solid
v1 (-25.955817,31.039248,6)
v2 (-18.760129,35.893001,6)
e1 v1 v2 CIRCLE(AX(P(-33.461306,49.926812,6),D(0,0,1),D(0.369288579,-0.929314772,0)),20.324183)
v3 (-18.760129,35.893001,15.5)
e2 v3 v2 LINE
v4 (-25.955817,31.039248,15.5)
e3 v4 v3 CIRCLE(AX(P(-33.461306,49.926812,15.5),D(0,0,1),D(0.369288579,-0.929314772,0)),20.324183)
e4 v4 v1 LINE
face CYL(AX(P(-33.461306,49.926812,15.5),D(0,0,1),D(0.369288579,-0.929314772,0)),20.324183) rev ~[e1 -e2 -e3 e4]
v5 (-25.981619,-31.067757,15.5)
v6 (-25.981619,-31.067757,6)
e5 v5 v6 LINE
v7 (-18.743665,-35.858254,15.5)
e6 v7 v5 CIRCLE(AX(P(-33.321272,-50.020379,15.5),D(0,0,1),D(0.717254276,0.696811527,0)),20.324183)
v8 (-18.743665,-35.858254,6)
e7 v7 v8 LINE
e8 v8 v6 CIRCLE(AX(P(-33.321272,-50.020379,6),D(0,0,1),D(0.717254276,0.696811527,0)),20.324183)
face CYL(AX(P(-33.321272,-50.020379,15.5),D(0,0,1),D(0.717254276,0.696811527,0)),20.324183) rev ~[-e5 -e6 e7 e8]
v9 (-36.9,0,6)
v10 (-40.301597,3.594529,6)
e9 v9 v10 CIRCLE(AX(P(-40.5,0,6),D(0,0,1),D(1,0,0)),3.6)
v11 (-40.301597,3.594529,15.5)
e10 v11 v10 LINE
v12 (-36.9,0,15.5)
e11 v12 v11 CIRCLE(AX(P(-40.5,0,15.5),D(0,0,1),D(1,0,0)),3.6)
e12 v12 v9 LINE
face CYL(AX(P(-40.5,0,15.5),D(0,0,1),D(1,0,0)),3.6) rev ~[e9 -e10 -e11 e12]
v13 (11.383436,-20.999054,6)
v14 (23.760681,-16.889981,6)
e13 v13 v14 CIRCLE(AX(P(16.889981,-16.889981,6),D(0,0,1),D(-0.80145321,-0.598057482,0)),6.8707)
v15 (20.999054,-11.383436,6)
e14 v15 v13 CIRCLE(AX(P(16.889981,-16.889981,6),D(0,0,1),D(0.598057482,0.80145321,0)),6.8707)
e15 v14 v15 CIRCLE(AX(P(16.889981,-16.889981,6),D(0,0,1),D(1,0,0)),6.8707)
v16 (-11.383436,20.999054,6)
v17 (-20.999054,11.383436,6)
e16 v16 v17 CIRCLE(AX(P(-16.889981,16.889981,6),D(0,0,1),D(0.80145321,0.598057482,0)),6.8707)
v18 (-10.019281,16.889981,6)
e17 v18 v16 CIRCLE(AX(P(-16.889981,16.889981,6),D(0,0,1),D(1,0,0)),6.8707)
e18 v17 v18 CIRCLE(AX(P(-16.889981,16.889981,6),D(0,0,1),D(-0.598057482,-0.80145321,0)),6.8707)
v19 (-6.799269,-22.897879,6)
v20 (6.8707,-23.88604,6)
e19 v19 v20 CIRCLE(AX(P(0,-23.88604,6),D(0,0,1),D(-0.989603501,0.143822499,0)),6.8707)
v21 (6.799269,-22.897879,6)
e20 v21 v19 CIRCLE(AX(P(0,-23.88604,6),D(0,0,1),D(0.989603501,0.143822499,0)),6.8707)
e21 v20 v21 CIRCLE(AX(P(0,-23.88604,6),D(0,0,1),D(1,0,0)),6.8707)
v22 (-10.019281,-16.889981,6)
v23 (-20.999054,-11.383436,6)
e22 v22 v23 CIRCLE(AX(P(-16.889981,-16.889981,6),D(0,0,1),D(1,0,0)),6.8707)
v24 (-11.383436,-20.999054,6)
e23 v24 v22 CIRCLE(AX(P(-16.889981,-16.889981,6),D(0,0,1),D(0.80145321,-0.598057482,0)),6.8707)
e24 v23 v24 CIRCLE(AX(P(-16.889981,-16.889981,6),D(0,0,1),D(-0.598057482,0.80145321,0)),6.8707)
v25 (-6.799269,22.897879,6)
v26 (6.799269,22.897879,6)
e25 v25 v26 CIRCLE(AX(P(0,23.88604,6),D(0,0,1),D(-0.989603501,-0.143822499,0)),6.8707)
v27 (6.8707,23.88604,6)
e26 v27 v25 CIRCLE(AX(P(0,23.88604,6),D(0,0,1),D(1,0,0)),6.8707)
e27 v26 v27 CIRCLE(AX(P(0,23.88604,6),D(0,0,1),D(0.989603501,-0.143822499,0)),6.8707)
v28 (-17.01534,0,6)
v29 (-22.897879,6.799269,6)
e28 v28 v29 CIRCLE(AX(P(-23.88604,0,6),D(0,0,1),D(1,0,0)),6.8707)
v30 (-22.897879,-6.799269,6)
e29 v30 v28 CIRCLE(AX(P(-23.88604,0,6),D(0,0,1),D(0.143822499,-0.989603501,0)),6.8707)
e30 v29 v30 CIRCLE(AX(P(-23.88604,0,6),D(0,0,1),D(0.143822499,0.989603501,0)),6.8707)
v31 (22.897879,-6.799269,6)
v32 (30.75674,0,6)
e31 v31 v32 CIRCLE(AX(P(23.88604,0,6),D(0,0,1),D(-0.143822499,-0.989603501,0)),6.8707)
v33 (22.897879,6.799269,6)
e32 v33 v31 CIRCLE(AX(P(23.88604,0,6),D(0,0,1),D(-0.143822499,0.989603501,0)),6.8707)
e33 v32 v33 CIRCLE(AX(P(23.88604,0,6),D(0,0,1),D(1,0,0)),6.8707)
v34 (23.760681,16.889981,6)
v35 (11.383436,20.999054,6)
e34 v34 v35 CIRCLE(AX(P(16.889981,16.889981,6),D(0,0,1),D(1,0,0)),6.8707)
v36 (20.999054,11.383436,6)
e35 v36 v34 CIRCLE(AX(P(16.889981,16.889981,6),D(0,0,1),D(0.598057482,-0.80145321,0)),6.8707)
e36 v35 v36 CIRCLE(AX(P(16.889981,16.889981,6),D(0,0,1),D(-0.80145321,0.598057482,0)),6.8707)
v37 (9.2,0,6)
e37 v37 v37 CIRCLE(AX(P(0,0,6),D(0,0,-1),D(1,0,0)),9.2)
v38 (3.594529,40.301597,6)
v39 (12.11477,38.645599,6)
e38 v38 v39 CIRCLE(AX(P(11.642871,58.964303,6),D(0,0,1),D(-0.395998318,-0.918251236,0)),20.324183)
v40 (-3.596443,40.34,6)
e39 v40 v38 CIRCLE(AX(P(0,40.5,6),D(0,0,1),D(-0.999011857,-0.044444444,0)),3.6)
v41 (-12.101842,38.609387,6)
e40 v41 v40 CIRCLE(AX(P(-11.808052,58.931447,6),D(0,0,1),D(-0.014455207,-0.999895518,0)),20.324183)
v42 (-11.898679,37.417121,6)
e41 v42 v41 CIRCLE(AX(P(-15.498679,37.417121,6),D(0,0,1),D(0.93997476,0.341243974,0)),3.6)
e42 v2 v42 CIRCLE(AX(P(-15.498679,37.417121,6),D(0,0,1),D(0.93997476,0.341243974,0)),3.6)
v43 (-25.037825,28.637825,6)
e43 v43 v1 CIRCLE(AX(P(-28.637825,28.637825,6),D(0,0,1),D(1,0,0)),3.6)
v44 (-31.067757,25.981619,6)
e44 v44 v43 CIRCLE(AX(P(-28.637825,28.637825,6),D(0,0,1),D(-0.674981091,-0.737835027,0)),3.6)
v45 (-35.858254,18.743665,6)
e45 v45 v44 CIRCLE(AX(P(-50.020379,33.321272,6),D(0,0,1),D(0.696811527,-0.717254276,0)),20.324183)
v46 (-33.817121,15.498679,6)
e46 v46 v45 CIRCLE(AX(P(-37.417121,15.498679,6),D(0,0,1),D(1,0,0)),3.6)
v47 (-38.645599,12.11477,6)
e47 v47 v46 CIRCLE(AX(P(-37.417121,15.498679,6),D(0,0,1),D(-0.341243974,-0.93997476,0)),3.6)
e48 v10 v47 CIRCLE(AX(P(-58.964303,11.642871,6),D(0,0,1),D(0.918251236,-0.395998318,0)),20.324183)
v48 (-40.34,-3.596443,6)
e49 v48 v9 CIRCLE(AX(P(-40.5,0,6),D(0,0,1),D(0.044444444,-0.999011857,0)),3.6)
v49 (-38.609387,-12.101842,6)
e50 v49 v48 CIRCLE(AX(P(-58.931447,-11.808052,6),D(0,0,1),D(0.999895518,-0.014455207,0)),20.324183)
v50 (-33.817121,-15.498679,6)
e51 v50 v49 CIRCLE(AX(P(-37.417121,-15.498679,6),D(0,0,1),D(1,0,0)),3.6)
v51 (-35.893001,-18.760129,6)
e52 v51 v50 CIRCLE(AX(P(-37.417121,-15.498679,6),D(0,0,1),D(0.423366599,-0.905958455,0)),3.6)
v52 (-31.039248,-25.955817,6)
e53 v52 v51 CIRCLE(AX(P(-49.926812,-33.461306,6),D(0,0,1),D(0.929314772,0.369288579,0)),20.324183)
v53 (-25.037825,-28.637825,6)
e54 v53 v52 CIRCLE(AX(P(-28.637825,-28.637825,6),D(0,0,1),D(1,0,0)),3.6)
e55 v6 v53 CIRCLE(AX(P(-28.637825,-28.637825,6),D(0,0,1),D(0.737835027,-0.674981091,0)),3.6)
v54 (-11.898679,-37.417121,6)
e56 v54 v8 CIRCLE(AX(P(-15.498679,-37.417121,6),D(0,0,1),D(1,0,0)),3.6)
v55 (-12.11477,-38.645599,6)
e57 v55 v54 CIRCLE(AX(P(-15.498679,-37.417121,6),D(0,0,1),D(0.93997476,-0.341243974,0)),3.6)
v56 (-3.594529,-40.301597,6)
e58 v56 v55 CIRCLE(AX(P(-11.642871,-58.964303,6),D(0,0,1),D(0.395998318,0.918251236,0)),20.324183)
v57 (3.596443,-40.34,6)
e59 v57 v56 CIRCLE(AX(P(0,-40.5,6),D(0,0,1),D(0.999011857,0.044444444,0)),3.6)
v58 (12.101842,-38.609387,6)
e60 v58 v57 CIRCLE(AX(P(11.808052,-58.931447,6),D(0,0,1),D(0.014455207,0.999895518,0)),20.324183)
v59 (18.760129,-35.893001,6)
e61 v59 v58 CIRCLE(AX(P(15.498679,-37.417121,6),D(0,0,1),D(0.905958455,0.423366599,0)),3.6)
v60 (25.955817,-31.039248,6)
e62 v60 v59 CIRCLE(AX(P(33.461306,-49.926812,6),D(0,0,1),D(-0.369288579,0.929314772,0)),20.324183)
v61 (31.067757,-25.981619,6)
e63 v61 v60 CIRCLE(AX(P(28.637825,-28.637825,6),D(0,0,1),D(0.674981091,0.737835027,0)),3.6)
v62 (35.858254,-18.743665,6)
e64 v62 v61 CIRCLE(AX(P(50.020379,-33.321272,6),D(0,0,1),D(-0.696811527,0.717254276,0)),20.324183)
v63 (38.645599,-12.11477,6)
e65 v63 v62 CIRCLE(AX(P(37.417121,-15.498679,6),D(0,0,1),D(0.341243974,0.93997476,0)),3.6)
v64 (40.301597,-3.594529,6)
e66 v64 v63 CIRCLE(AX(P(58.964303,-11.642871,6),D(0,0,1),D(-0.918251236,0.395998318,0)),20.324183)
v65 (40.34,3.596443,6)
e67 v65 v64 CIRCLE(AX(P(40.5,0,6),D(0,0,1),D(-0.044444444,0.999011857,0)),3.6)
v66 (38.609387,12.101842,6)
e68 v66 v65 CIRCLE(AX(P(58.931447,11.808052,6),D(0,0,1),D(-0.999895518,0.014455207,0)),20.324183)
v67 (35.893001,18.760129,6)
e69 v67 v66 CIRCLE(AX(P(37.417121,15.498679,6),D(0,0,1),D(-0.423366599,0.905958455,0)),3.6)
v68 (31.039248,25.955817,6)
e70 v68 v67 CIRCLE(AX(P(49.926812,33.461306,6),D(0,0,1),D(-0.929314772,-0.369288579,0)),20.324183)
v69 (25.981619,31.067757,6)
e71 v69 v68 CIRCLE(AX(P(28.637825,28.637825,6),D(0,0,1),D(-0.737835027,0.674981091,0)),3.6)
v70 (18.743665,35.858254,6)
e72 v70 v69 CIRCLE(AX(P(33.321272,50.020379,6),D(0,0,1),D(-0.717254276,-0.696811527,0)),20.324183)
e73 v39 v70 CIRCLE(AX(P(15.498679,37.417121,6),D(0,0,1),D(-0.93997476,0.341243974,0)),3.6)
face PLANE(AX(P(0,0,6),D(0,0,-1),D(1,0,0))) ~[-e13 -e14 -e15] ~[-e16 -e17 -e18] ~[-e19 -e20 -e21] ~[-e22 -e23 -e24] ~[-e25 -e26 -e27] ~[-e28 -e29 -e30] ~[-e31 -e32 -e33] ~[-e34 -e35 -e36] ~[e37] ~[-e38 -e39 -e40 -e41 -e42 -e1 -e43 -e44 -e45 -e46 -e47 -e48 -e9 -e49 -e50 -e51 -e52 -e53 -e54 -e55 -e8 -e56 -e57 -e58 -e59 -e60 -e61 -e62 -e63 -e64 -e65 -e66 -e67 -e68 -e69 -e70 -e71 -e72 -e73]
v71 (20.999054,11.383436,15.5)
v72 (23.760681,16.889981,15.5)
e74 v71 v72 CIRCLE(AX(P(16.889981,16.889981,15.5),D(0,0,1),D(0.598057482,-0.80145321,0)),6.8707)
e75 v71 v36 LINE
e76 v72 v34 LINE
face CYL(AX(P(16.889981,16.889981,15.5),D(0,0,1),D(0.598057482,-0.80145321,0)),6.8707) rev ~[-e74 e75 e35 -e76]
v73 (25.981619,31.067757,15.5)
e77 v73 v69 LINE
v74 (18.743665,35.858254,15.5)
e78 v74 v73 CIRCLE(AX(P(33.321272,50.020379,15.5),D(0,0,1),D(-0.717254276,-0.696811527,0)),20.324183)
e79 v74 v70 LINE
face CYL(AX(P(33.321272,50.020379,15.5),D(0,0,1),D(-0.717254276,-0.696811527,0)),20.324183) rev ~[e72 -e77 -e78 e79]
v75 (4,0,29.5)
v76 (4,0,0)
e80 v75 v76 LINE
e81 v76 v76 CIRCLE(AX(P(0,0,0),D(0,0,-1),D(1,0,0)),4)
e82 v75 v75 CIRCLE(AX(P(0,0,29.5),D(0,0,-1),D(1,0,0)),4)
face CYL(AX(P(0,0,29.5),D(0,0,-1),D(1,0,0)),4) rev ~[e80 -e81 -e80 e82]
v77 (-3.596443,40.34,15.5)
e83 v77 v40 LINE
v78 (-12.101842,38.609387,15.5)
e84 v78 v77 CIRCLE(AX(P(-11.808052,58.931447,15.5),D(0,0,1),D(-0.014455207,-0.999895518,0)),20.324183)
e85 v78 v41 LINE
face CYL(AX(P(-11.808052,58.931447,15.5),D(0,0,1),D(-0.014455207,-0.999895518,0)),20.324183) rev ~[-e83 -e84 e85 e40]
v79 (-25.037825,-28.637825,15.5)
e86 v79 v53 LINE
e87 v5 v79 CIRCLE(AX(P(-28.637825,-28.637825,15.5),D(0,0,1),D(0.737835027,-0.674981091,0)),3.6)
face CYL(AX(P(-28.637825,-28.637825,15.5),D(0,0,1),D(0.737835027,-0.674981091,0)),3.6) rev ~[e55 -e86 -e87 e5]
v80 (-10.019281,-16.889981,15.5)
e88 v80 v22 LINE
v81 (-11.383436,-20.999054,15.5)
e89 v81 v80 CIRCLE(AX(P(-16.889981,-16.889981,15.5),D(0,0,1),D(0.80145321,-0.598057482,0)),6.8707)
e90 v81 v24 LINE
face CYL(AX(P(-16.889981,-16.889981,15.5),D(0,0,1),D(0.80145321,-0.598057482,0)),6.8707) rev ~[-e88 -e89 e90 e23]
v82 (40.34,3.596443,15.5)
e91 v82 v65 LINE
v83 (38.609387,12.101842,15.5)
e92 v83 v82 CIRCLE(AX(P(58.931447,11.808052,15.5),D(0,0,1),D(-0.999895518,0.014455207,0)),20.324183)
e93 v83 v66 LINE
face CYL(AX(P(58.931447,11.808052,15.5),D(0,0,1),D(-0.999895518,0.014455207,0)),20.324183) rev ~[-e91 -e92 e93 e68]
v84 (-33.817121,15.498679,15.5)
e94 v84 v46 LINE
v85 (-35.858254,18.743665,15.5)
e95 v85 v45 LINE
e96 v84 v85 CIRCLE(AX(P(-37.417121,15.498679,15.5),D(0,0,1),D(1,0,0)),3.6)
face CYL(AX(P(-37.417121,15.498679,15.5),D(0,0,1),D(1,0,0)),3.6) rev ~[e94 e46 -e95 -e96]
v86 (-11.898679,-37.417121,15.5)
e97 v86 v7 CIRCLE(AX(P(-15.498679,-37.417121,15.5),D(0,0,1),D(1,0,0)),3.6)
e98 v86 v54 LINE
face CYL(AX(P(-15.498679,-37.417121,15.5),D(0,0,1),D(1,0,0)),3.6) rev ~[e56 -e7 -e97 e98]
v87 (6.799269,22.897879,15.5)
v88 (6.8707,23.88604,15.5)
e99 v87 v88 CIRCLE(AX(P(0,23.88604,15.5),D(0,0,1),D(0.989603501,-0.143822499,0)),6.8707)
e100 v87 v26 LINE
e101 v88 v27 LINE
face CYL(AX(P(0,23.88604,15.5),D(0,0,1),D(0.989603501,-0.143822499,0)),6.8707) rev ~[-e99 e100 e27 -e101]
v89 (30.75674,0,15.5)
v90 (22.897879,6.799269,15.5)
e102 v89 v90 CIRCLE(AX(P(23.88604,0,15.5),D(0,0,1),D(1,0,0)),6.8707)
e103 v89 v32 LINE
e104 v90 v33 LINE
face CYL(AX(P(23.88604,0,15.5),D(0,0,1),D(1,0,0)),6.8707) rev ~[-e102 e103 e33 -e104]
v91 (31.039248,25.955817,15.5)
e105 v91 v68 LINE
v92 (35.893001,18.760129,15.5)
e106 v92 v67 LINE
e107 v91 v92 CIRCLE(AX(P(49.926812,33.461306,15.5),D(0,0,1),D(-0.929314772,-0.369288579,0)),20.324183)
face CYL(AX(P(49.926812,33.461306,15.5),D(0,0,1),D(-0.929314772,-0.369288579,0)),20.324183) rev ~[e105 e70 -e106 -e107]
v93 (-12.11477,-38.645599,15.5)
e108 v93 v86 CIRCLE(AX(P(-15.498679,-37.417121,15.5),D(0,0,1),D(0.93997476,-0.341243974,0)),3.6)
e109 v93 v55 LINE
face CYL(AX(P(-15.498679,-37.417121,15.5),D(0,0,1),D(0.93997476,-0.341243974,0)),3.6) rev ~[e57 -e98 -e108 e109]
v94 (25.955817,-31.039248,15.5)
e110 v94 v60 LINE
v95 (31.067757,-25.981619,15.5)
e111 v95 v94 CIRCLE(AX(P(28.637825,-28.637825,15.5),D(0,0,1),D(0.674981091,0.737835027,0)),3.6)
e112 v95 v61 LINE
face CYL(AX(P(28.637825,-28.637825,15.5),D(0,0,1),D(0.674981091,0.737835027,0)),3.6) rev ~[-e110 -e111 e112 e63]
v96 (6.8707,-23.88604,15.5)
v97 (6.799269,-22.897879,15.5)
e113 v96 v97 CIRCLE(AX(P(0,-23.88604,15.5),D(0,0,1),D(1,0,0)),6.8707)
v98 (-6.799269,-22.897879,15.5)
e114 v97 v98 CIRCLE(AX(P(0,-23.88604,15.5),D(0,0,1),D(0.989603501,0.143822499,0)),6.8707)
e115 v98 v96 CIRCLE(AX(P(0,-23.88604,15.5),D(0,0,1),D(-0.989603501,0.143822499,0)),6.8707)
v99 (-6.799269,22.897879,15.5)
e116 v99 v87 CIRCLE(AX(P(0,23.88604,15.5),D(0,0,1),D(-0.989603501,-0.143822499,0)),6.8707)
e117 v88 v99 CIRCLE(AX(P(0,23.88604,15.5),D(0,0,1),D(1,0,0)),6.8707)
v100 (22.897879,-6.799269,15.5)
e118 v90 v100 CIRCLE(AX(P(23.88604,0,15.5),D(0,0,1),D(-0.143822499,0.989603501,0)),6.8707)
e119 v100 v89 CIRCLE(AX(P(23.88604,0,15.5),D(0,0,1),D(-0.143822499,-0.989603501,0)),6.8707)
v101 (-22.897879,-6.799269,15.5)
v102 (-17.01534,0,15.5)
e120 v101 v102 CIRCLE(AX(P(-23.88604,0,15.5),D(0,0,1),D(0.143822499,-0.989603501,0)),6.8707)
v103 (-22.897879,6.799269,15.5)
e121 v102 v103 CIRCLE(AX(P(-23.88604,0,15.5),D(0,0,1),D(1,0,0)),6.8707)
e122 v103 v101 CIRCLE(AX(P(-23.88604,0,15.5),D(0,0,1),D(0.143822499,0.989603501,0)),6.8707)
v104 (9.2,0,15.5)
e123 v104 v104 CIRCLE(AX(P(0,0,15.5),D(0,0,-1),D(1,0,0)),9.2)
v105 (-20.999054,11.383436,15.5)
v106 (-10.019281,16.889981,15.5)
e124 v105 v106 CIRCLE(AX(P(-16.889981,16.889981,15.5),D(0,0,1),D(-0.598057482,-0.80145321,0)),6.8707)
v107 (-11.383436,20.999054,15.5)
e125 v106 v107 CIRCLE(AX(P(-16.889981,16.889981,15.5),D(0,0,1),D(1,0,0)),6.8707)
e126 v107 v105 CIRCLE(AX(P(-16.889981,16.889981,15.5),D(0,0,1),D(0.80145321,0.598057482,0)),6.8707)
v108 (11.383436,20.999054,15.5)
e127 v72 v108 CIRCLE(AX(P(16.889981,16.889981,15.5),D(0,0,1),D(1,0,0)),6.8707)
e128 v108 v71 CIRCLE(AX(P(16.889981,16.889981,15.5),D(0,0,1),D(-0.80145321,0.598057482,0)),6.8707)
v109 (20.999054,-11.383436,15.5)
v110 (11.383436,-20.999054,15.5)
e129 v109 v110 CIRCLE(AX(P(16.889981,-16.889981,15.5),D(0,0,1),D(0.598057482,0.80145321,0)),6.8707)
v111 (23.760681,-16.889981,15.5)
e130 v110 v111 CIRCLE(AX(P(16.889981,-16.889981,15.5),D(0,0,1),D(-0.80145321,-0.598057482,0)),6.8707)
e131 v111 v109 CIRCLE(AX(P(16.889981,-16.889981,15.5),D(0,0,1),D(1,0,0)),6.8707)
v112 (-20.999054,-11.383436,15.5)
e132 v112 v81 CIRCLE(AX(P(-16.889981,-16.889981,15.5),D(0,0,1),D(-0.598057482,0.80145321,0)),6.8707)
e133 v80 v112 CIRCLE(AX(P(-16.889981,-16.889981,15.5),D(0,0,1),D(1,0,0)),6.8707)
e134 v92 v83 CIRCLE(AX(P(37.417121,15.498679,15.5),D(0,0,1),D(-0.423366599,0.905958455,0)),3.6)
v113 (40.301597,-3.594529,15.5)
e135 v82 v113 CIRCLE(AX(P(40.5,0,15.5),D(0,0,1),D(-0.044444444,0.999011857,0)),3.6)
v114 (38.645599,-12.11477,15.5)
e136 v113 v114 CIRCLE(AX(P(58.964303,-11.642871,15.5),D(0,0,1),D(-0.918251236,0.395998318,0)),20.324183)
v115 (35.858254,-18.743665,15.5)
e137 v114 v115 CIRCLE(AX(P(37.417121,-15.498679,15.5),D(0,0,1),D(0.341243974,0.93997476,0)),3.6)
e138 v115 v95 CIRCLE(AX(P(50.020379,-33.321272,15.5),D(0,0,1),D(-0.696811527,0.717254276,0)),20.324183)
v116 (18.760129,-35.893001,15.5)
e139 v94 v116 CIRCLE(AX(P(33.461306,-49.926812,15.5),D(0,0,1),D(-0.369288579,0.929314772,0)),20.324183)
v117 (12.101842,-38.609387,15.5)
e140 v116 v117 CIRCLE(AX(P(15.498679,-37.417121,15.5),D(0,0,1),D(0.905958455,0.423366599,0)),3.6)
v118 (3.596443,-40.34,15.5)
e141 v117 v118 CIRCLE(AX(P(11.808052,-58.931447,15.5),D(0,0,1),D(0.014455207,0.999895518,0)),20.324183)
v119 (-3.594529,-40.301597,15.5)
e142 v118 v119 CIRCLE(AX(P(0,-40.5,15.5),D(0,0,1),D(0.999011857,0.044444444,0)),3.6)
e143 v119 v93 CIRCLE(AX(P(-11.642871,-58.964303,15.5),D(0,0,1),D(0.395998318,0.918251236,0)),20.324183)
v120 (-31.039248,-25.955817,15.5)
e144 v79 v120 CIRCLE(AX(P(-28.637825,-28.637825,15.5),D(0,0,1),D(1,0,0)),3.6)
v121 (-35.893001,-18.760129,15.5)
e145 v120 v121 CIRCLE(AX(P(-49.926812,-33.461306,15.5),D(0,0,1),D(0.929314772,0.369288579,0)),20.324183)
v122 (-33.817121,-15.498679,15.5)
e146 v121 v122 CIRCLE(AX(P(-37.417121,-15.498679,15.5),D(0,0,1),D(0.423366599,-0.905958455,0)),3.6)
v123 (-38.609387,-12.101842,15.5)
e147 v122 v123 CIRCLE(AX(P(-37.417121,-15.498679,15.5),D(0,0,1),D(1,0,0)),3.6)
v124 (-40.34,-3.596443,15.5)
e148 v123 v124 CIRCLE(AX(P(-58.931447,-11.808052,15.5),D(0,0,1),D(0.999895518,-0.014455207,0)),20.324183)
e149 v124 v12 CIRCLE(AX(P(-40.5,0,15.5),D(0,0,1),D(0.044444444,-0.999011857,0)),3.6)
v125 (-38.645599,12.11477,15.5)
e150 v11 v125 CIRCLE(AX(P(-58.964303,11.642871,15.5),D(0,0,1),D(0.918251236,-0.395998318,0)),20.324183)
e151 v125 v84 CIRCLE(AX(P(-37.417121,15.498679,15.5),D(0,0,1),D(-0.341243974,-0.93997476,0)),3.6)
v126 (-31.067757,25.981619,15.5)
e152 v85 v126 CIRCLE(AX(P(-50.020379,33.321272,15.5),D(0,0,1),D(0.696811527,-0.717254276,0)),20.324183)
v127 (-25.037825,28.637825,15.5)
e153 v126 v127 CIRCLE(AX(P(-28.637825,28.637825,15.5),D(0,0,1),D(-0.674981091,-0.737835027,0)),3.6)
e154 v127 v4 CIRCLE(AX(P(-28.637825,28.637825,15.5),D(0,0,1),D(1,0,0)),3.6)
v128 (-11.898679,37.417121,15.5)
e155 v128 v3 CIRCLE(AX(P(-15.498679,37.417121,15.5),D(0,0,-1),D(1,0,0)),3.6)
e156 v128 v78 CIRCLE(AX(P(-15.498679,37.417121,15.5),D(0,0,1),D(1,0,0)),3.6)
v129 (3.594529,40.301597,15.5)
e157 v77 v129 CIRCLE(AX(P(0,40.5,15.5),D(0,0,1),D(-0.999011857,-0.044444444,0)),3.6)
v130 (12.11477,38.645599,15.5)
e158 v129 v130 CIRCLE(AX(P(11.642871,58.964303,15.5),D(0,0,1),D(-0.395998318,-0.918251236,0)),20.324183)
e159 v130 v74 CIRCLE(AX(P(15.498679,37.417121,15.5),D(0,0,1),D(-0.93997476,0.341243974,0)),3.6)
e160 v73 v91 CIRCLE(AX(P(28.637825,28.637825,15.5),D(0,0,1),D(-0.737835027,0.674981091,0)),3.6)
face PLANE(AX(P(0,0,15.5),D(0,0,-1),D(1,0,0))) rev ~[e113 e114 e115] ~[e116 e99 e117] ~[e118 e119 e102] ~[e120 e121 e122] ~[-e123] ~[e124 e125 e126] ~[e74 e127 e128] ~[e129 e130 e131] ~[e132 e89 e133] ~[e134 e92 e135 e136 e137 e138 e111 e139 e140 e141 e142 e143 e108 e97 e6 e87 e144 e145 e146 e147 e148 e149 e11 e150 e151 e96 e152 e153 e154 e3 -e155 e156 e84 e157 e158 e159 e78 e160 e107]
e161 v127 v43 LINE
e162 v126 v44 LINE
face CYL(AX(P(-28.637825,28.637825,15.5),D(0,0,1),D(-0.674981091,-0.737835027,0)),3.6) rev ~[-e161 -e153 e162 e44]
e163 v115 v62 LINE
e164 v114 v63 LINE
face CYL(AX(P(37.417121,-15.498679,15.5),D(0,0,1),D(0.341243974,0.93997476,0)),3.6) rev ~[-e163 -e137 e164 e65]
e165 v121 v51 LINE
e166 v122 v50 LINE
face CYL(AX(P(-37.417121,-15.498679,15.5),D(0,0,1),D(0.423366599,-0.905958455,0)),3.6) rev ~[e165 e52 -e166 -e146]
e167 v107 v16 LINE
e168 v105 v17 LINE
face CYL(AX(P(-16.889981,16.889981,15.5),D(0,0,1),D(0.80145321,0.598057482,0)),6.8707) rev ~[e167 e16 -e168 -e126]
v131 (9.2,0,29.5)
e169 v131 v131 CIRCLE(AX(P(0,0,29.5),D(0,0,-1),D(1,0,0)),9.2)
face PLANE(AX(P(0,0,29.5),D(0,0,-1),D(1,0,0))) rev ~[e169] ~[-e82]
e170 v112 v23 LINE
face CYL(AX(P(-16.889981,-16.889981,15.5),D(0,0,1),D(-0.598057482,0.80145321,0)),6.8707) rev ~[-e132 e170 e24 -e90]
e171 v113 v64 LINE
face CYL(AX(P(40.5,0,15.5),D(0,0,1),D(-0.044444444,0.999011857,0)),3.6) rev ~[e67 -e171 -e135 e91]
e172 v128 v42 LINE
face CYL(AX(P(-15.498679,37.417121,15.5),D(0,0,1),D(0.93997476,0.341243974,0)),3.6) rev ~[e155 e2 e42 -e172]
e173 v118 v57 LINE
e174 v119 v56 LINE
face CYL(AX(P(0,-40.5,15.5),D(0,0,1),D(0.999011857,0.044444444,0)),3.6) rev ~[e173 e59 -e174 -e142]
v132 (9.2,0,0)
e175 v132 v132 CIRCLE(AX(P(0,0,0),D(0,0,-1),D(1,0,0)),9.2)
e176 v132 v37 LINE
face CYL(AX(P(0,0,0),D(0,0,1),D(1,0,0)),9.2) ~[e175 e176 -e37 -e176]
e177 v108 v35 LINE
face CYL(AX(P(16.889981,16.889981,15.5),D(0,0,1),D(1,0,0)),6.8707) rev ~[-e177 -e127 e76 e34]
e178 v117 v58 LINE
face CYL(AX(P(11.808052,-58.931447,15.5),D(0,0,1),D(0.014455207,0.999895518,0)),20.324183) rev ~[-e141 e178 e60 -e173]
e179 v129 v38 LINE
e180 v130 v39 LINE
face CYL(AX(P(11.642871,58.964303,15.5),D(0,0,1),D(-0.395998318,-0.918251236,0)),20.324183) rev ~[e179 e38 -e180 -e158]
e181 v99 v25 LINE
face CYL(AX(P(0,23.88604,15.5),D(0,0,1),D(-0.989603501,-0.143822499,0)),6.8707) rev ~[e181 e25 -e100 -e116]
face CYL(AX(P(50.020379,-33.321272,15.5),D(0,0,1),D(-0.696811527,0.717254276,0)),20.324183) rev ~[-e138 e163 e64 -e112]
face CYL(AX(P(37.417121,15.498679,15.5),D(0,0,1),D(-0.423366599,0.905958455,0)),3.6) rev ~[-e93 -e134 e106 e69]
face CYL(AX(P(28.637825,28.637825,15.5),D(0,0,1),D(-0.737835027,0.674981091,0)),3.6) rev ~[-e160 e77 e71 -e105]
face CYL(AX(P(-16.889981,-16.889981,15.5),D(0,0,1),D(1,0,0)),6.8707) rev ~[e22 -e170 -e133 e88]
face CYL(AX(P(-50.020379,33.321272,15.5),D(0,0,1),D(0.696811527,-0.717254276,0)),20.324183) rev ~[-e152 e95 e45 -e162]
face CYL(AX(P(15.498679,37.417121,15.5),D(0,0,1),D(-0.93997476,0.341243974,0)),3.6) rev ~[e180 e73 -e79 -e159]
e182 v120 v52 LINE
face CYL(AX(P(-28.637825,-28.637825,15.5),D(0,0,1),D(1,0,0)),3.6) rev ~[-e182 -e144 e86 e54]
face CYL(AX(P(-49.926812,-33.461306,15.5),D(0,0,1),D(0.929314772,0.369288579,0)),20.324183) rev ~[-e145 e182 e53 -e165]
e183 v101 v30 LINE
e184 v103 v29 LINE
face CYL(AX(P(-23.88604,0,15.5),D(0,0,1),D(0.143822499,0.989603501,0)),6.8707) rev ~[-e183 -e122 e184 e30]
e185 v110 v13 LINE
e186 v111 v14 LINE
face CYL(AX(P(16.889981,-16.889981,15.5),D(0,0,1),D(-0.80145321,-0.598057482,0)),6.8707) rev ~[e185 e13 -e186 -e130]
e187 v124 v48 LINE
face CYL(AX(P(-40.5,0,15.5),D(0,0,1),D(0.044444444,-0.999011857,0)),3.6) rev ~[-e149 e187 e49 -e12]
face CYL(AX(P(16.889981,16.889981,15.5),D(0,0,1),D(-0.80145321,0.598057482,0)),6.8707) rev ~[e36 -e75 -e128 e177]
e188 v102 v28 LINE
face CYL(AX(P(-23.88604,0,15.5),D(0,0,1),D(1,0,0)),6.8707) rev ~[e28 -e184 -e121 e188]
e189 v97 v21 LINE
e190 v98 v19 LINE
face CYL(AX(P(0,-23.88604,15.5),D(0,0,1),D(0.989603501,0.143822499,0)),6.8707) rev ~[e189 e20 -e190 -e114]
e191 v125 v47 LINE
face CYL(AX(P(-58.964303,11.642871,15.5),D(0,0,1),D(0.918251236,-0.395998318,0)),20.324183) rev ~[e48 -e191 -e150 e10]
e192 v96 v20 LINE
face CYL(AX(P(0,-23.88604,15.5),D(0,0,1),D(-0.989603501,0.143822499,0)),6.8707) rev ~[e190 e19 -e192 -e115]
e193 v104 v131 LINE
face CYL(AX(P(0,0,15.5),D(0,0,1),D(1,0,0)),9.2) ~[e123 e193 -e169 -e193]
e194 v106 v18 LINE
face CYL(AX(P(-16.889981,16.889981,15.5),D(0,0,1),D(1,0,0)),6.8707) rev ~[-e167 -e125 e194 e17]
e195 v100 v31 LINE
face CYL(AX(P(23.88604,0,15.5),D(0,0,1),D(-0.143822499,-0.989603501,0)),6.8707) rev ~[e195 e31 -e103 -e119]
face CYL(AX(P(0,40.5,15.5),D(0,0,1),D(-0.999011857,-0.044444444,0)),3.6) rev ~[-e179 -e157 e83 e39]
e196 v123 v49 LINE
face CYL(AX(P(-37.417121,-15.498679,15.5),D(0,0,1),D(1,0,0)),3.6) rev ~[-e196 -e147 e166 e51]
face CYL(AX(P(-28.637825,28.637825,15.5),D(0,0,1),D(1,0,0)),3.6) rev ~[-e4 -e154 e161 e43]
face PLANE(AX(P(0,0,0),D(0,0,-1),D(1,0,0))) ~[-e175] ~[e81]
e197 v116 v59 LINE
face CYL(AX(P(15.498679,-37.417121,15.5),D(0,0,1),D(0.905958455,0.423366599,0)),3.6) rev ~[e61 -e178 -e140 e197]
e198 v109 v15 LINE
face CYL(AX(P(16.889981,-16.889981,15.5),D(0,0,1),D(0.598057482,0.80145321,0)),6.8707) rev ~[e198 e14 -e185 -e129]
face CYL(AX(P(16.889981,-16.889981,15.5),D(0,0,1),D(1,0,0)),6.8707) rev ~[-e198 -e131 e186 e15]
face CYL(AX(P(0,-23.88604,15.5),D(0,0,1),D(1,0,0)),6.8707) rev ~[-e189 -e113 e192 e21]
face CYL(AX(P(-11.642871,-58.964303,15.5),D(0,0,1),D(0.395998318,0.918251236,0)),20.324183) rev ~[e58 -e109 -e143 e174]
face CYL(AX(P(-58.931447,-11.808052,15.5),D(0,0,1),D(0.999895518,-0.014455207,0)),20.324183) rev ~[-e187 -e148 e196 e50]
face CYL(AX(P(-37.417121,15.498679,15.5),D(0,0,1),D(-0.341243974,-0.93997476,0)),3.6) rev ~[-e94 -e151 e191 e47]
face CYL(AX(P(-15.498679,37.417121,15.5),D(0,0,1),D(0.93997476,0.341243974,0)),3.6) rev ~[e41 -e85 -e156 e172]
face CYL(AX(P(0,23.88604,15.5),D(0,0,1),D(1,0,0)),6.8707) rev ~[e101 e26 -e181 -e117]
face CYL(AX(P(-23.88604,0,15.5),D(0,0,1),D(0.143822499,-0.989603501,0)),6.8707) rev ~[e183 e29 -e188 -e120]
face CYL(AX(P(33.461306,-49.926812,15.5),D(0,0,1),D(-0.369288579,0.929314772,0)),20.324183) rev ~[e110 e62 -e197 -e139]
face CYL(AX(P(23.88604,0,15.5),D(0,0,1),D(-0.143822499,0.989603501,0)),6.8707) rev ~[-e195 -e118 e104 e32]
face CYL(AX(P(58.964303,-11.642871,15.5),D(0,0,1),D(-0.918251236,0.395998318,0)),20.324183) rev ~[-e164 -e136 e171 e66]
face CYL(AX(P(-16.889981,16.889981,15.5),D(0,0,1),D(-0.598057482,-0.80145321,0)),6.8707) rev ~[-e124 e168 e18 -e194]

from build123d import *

# Parameters (mm, degrees)
F3_DEPTH = 15.501
F5_DEPTH = 25


with BuildPart() as f1:
    # F0 (on Front) → F1 (revolve)
    with BuildSketch(Plane.XZ):
        Polygon((9.2, 29.5), (4, 29.5), (4, 0), (9.2, 0), (9.2, 6), (40.5, 6), (40.5, 15.5), (9.2, 15.5), align=None)
    revolve(axis=Axis((0, 0, 0.1838468015), (0, 0, -1)))

    # F2 (on face) → F3 (cut, through all)
    with BuildSketch(Plane.XY.offset(15.5)):
        with BuildLine():
            ThreePointArc((40.5, 0), (40.4599802274, 1.8), (40.34, 3.5964426869))
            ThreePointArc((40.34, 3.5964426869), (36.9000513354, 0.0192253002), (40.3015970682, -3.5945286585))
            ThreePointArc((40.3015970682, -3.5945286585), (40.3207959787, -3.5955369444), (40.34, -3.5964426869))
            ThreePointArc((40.34, -3.5964426869), (40.4599802274, -1.8), (40.5, 0))
        make_face()
        with BuildLine():
            ThreePointArc((35.8930013098, 18.7601294499), (37.4171210667, 15.4986790108), (38.6455993732, 12.1147698734))
            ThreePointArc((38.6455993732, 12.1147698734), (40.3652155278, 13.43258631), (41.0171210667, 15.4986790108))
            ThreePointArc((41.0171210667, 15.4986790108), (39.3501457529, 18.5356866766), (35.8930013098, 18.7601294499))
        make_face()
        with BuildLine():
            ThreePointArc((25.981618541, 31.0677565651), (28.6378246381, 28.6378246381), (31.0677565651, 25.981618541))
            ThreePointArc((31.0677565651, 25.981618541), (31.9323469811, 27.1865760269), (32.2378246381, 28.6378246381))
            ThreePointArc((32.2378246381, 28.6378246381), (29.9412159935, 31.9935914617), (25.981618541, 31.0677565651))
        make_face()
        with BuildLine():
            ThreePointArc((12.1147698734, 38.6455993732), (15.4986790108, 37.4171210667), (18.7601294499, 35.8930013098))
            ThreePointArc((18.7601294499, 35.8930013098), (19.0130225897, 36.6364872155), (19.0986790108, 37.4171210667))
            ThreePointArc((19.0986790108, 37.4171210667), (16.1223484365, 40.962686811), (12.1147698734, 38.6455993732))
        make_face()
        with BuildLine():
            ThreePointArc((-3.5964426869, 40.34), (0, 40.5), (3.5964426869, 40.34))
            ThreePointArc((3.5964426869, 40.34), (3.5991105618, 40.4199802298), (3.6, 40.5))
            ThreePointArc((3.6, 40.5), (-0.0800197702, 44.0991105618), (-3.5964426869, 40.34))
        make_face()
        with BuildLine():
            ThreePointArc((-18.7601294499, 35.8930013098), (-15.4986790108, 37.4171210667), (-12.1147698734, 38.6455993732))
            ThreePointArc((-12.1147698734, 38.6455993732), (-16.8763393673, 40.7430873837), (-18.7601294499, 35.8930013098))
        make_face()
        with BuildLine():
            ThreePointArc((-31.0677565651, 25.981618541), (-28.6378246381, 28.6378246381), (-25.981618541, 31.0677565651))
            ThreePointArc((-25.981618541, 31.0677565651), (-31.1834090503, 31.1834090503), (-31.0677565651, 25.981618541))
        make_face()
        with BuildLine():
            ThreePointArc((-38.6455993732, 12.1147698734), (-37.4171210667, 15.4986790108), (-35.8930013098, 18.7601294499))
            ThreePointArc((-35.8930013098, 18.7601294499), (-40.7430873837, 16.8763393673), (-38.6455993732, 12.1147698734))
        make_face()
        with BuildLine():
            ThreePointArc((-40.34, -3.5964426869), (-40.5, 0), (-40.34, 3.5964426869))
            ThreePointArc((-40.34, 3.5964426869), (-44.1, 0), (-40.34, -3.5964426869))
        make_face()
        with BuildLine():
            ThreePointArc((-38.6455993732, -12.1147698734), (-40.7430873837, -16.8763393673), (-35.8930013098, -18.7601294499))
            ThreePointArc((-35.8930013098, -18.7601294499), (-37.4171210667, -15.4986790108), (-38.6455993732, -12.1147698734))
        make_face()
        with BuildLine():
            ThreePointArc((-31.0677565651, -25.981618541), (-31.1834090503, -31.1834090503), (-25.981618541, -31.0677565651))
            ThreePointArc((-25.981618541, -31.0677565651), (-28.6378246381, -28.6378246381), (-31.0677565651, -25.981618541))
        make_face()
        with BuildLine():
            ThreePointArc((-18.7601294499, -35.8930013098), (-16.8763393673, -40.7430873837), (-12.1147698734, -38.6455993732))
            ThreePointArc((-12.1147698734, -38.6455993732), (-15.4986790108, -37.4171210667), (-18.7601294499, -35.8930013098))
        make_face()
        with BuildLine():
            ThreePointArc((3.6, -40.5), (3.5991105618, -40.4199802298), (3.5964426869, -40.34))
            ThreePointArc((3.5964426869, -40.34), (0, -40.5), (-3.5964426869, -40.34))
            ThreePointArc((-3.5964426869, -40.34), (-0.0800197702, -44.0991105618), (3.6, -40.5))
        make_face()
        with BuildLine():
            ThreePointArc((19.0986790108, -37.4171210667), (19.0130225897, -36.6364872155), (18.7601294499, -35.8930013098))
            ThreePointArc((18.7601294499, -35.8930013098), (15.4986790108, -37.4171210667), (12.1147698734, -38.6455993732))
            ThreePointArc((12.1147698734, -38.6455993732), (16.1223484365, -40.962686811), (19.0986790108, -37.4171210667))
        make_face()
        with BuildLine():
            ThreePointArc((32.2378246381, -28.6378246381), (31.9323469811, -27.1865760269), (31.0677565651, -25.981618541))
            ThreePointArc((31.0677565651, -25.981618541), (28.6378246381, -28.6378246381), (25.981618541, -31.0677565651))
            ThreePointArc((25.981618541, -31.0677565651), (29.9412159935, -31.9935914617), (32.2378246381, -28.6378246381))
        make_face()
        with BuildLine():
            ThreePointArc((41.0171210667, -15.4986790108), (40.3652155278, -13.43258631), (38.6455993732, -12.1147698734))
            ThreePointArc((38.6455993732, -12.1147698734), (37.4171210667, -15.4986790108), (35.8930013098, -18.7601294499))
            ThreePointArc((35.8930013098, -18.7601294499), (39.3501457529, -18.5356866766), (41.0171210667, -15.4986790108))
        make_face()
        with BuildLine():
            ThreePointArc((35.8930013098, 18.7601294499), (34.0838449735, 14.1388001609), (38.6093872236, 12.1018420393))
            ThreePointArc((38.6093872236, 12.1018420393), (38.6275105584, 12.1082576095), (38.6455993732, 12.1147698734))
            ThreePointArc((38.6455993732, 12.1147698734), (37.4171210667, 15.4986790108), (35.8930013098, 18.7601294499))
        make_face()
        with BuildLine():
            ThreePointArc((25.981618541, 31.0677565651), (26.0786821852, 26.1058708656), (31.0392481691, 25.95581699))
            ThreePointArc((31.0392481691, 25.95581699), (31.0535368148, 25.9686797039), (31.0677565651, 25.981618541))
            ThreePointArc((31.0677565651, 25.981618541), (28.6378246381, 28.6378246381), (25.981618541, 31.0677565651))
        make_face()
        with BuildLine():
            ThreePointArc((12.1147698734, 38.6455993732), (14.1032764381, 34.0985593813), (18.7436649524, 35.8582540941))
            ThreePointArc((18.7436649524, 35.8582540941), (18.7519435922, 35.8756057202), (18.7601294499, 35.8930013098))
            ThreePointArc((18.7601294499, 35.8930013098), (15.4986790108, 37.4171210667), (12.1147698734, 38.6455993732))
        make_face()
        with BuildLine():
            ThreePointArc((-3.5964426869, 40.34), (-0.0192253002, 36.9000513354), (3.5945286585, 40.3015970682))
            ThreePointArc((3.5945286585, 40.3015970682), (3.5955369444, 40.3207959787), (3.5964426869, 40.34))
            ThreePointArc((3.5964426869, 40.34), (0, 40.5), (-3.5964426869, 40.34))
        make_face()
        with BuildLine():
            ThreePointArc((-11.8986790108, 37.4171210667), (-11.9498332056, 38.0218469974), (-12.1018420393, 38.6093872236))
            ThreePointArc((-12.1018420393, 38.6093872236), (-12.1082576095, 38.6275105584), (-12.1147698734, 38.6455993732))
            ThreePointArc((-12.1147698734, 38.6455993732), (-15.4986790108, 37.4171210667), (-18.7601294499, 35.8930013098))
            ThreePointArc((-18.7601294499, 35.8930013098), (-14.7180451596, 33.9027774878), (-11.8986790108, 37.4171210667))
        make_face()
        with BuildLine():
            ThreePointArc((-25.0378246381, 28.6378246381), (-25.2751450865, 29.9232764005), (-25.95581699, 31.0392481691))
            ThreePointArc((-25.95581699, 31.0392481691), (-25.9686797039, 31.0535368148), (-25.981618541, 31.0677565651))
            ThreePointArc((-25.981618541, 31.0677565651), (-28.6378246381, 28.6378246381), (-31.0677565651, 25.981618541))
            ThreePointArc((-31.0677565651, 25.981618541), (-27.1865760269, 25.343302295), (-25.0378246381, 28.6378246381))
        make_face()
        with BuildLine():
            ThreePointArc((-33.8171210667, 15.4986790108), (-34.3698336581, 17.4154574146), (-35.8582540941, 18.7436649524))
            ThreePointArc((-35.8582540941, 18.7436649524), (-35.8756057202, 18.7519435922), (-35.8930013098, 18.7601294499))
            ThreePointArc((-35.8930013098, 18.7601294499), (-37.4171210667, 15.4986790108), (-38.6455993732, 12.1147698734))
            ThreePointArc((-38.6455993732, 12.1147698734), (-35.3510283659, 12.5505845497), (-33.8171210667, 15.4986790108))
        make_face()
        with BuildLine():
            ThreePointArc((-36.9, 0), (-37.8852102805, 2.4744443261), (-40.3015970682, 3.5945286585))
            ThreePointArc((-40.3015970682, 3.5945286585), (-40.3207959787, 3.5955369444), (-40.34, 3.5964426869))
            ThreePointArc((-40.34, 3.5964426869), (-40.5, 0), (-40.34, -3.5964426869))
            ThreePointArc((-40.34, -3.5964426869), (-37.8984619934, -2.4883729624), (-36.9, 0))
        make_face()
        with BuildLine():
            ThreePointArc((-38.6455993732, -12.1147698734), (-37.4171210667, -15.4986790108), (-35.8930013098, -18.7601294499))
            ThreePointArc((-35.8930013098, -18.7601294499), (-34.3801134009, -17.431703697), (-33.8171210667, -15.4986790108))
            ThreePointArc((-33.8171210667, -15.4986790108), (-35.3353139388, -12.5616602702), (-38.6093872236, -12.1018420393))
            ThreePointArc((-38.6093872236, -12.1018420393), (-38.6275105584, -12.1082576095), (-38.6455993732, -12.1147698734))
        make_face()
        with BuildLine():
            ThreePointArc((-31.0677565651, -25.981618541), (-28.6378246381, -28.6378246381), (-25.981618541, -31.0677565651))
            ThreePointArc((-25.981618541, -31.0677565651), (-25.2820578144, -29.9412159935), (-25.0378246381, -28.6378246381))
            ThreePointArc((-25.0378246381, -28.6378246381), (-27.1690027823, -25.3510994661), (-31.0392481691, -25.95581699))
            ThreePointArc((-31.0392481691, -25.95581699), (-31.0535368148, -25.9686797039), (-31.0677565651, -25.981618541))
        make_face()
        with BuildLine():
            ThreePointArc((-18.7601294499, -35.8930013098), (-15.4986790108, -37.4171210667), (-12.1147698734, -38.6455993732))
            ThreePointArc((-12.1147698734, -38.6455993732), (-11.9531132665, -38.0407904925), (-11.8986790108, -37.4171210667))
            ThreePointArc((-11.8986790108, -37.4171210667), (-14.6992884273, -33.9069964685), (-18.7436649524, -35.8582540941))
            ThreePointArc((-18.7436649524, -35.8582540941), (-18.7519435922, -35.8756057202), (-18.7601294499, -35.8930013098))
        make_face()
        with BuildLine():
            ThreePointArc((-3.5964426869, -40.34), (0, -40.5), (3.5964426869, -40.34))
            ThreePointArc((3.5964426869, -40.34), (0.0192253002, -36.9000513354), (-3.5945286585, -40.3015970682))
            ThreePointArc((-3.5945286585, -40.3015970682), (-3.5955369444, -40.3207959787), (-3.5964426869, -40.34))
        make_face()
        with BuildLine():
            ThreePointArc((12.1147698734, -38.6455993732), (15.4986790108, -37.4171210667), (18.7601294499, -35.8930013098))
            ThreePointArc((18.7601294499, -35.8930013098), (14.1388001609, -34.0838449735), (12.1018420393, -38.6093872236))
            ThreePointArc((12.1018420393, -38.6093872236), (12.1082576095, -38.6275105584), (12.1147698734, -38.6455993732))
        make_face()
        with BuildLine():
            ThreePointArc((25.981618541, -31.0677565651), (28.6378246381, -28.6378246381), (31.0677565651, -25.981618541))
            ThreePointArc((31.0677565651, -25.981618541), (26.1058708656, -26.0786821852), (25.95581699, -31.0392481691))
            ThreePointArc((25.95581699, -31.0392481691), (25.9686797039, -31.0535368148), (25.981618541, -31.0677565651))
        make_face()
        with BuildLine():
            ThreePointArc((35.8930013098, -18.7601294499), (37.4171210667, -15.4986790108), (38.6455993732, -12.1147698734))
            ThreePointArc((38.6455993732, -12.1147698734), (34.0985593813, -14.1032764381), (35.8582540941, -18.7436649524))
            ThreePointArc((35.8582540941, -18.7436649524), (35.8756057202, -18.7519435922), (35.8930013098, -18.7601294499))
        make_face()
        with BuildLine():
            ThreePointArc((38.6093872236, 12.1018420393), (39.0153553356, 7.7556797687), (40.34, 3.5964426869))
            ThreePointArc((40.34, 3.5964426869), (39.7218038563, 7.9011580417), (38.6455993732, 12.1147698734))
            ThreePointArc((38.6455993732, 12.1147698734), (38.6275105584, 12.1082576095), (38.6093872236, 12.1018420393))
        make_face()
        with BuildLine():
            ThreePointArc((31.0392481691, 25.95581699), (33.077518094, 22.0958438938), (35.8930013098, 18.7601294499))
            ThreePointArc((35.8930013098, 18.7601294499), (33.6745192983, 22.5005944373), (31.0677565651, 25.981618541))
            ThreePointArc((31.0677565651, 25.981618541), (31.0535368148, 25.9686797039), (31.0392481691, 25.95581699))
        make_face()
        with BuildLine():
            ThreePointArc((25.981618541, -31.0677565651), (25.9686797039, -31.0535368148), (25.95581699, -31.0392481691))
            ThreePointArc((25.95581699, -31.0392481691), (22.0958438938, -33.077518094), (18.7601294499, -35.8930013098))
            ThreePointArc((18.7601294499, -35.8930013098), (22.5005944373, -33.6745192983), (25.981618541, -31.0677565651))
        make_face()
        with BuildLine():
            ThreePointArc((18.7436649524, 35.8582540941), (22.1039285711, 33.0721160854), (25.981618541, 31.0677565651))
            ThreePointArc((25.981618541, 31.0677565651), (22.5005944373, 33.6745192983), (18.7601294499, 35.8930013098))
            ThreePointArc((18.7601294499, 35.8930013098), (18.7519435922, 35.8756057202), (18.7436649524, 35.8582540941))
        make_face()
        with BuildLine():
            ThreePointArc((35.8930013098, -18.7601294499), (35.8756057202, -18.7519435922), (35.8582540941, -18.7436649524))
            ThreePointArc((35.8582540941, -18.7436649524), (33.0721160854, -22.1039285711), (31.0677565651, -25.981618541))
            ThreePointArc((31.0677565651, -25.981618541), (33.6745192983, -22.5005944373), (35.8930013098, -18.7601294499))
        make_face()
        with BuildLine():
            ThreePointArc((38.6455993732, -12.1147698734), (39.7218038563, -7.9011580417), (40.34, -3.5964426869))
            ThreePointArc((40.34, -3.5964426869), (40.3207959787, -3.5955369444), (40.3015970682, -3.5945286585))
            ThreePointArc((40.3015970682, -3.5945286585), (39.0134584025, -7.7652162958), (38.6455993732, -12.1147698734))
        make_face()
        with BuildLine():
            ThreePointArc((-40.3015970682, 3.5945286585), (-39.0134584025, 7.7652162958), (-38.6455993732, 12.1147698734))
            ThreePointArc((-38.6455993732, 12.1147698734), (-39.7218038563, 7.9011580417), (-40.34, 3.5964426869))
            ThreePointArc((-40.34, 3.5964426869), (-40.3207959787, 3.5955369444), (-40.3015970682, 3.5945286585))
        make_face()
        with BuildLine():
            ThreePointArc((-40.34, -3.5964426869), (-39.7218038563, -7.9011580417), (-38.6455993732, -12.1147698734))
            ThreePointArc((-38.6455993732, -12.1147698734), (-38.6275105584, -12.1082576095), (-38.6093872236, -12.1018420393))
            ThreePointArc((-38.6093872236, -12.1018420393), (-39.0153553356, -7.7556797687), (-40.34, -3.5964426869))
        make_face()
        with BuildLine():
            ThreePointArc((-35.8930013098, -18.7601294499), (-33.6745192983, -22.5005944373), (-31.0677565651, -25.981618541))
            ThreePointArc((-31.0677565651, -25.981618541), (-31.0535368148, -25.9686797039), (-31.0392481691, -25.95581699))
            ThreePointArc((-31.0392481691, -25.95581699), (-33.077518094, -22.0958438938), (-35.8930013098, -18.7601294499))
        make_face()
        with BuildLine():
            ThreePointArc((-35.8582540941, 18.7436649524), (-33.0721160854, 22.1039285711), (-31.0677565651, 25.981618541))
            ThreePointArc((-31.0677565651, 25.981618541), (-33.6745192983, 22.5005944373), (-35.8930013098, 18.7601294499))
            ThreePointArc((-35.8930013098, 18.7601294499), (-35.8756057202, 18.7519435922), (-35.8582540941, 18.7436649524))
        make_face()
        with BuildLine():
            ThreePointArc((-25.981618541, -31.0677565651), (-22.5005944373, -33.6745192983), (-18.7601294499, -35.8930013098))
            ThreePointArc((-18.7601294499, -35.8930013098), (-18.7519435922, -35.8756057202), (-18.7436649524, -35.8582540941))
            ThreePointArc((-18.7436649524, -35.8582540941), (-22.1039285711, -33.0721160854), (-25.981618541, -31.0677565651))
        make_face()
        with BuildLine():
            ThreePointArc((-25.95581699, 31.0392481691), (-22.0958438938, 33.077518094), (-18.7601294499, 35.8930013098))
            ThreePointArc((-18.7601294499, 35.8930013098), (-22.5005944373, 33.6745192983), (-25.981618541, 31.0677565651))
            ThreePointArc((-25.981618541, 31.0677565651), (-25.9686797039, 31.0535368148), (-25.95581699, 31.0392481691))
        make_face()
        with BuildLine():
            ThreePointArc((-12.1018420393, 38.6093872236), (-7.7556797687, 39.0153553356), (-3.5964426869, 40.34))
            ThreePointArc((-3.5964426869, 40.34), (-7.9011580417, 39.7218038563), (-12.1147698734, 38.6455993732))
            ThreePointArc((-12.1147698734, 38.6455993732), (-12.1082576095, 38.6275105584), (-12.1018420393, 38.6093872236))
        make_face()
        with BuildLine():
            ThreePointArc((-3.5964426869, -40.34), (-3.5955369444, -40.3207959787), (-3.5945286585, -40.3015970682))
            ThreePointArc((-3.5945286585, -40.3015970682), (-7.7652162958, -39.0134584025), (-12.1147698734, -38.6455993732))
            ThreePointArc((-12.1147698734, -38.6455993732), (-7.9011580417, -39.7218038563), (-3.5964426869, -40.34))
        make_face()
        with BuildLine():
            ThreePointArc((12.1147698734, -38.6455993732), (12.1082576095, -38.6275105584), (12.1018420393, -38.6093872236))
            ThreePointArc((12.1018420393, -38.6093872236), (7.7556797687, -39.0153553356), (3.5964426869, -40.34))
            ThreePointArc((3.5964426869, -40.34), (7.9011580417, -39.7218038563), (12.1147698734, -38.6455993732))
        make_face()
        with BuildLine():
            ThreePointArc((3.5945286585, 40.3015970682), (7.7652162958, 39.0134584025), (12.1147698734, 38.6455993732))
            ThreePointArc((12.1147698734, 38.6455993732), (7.9011580417, 39.7218038563), (3.5964426869, 40.34))
            ThreePointArc((3.5964426869, 40.34), (3.5955369444, 40.3207959787), (3.5945286585, 40.3015970682))
        make_face()
    extrude(amount=-F3_DEPTH, mode=Mode.SUBTRACT)

    # F4 (on face) → F5 (cut)
    with BuildSketch(Plane.XY.offset(15.5)):
        with BuildLine():
            ThreePointArc((22.8978786586, 6.7992686643), (23.6377086915, 3.4353499451), (23.8860398859, 0))
            ThreePointArc((23.8860398859, 0), (23.6377086915, -3.4353499451), (22.8978786586, -6.7992686643))
            ThreePointArc((22.8978786586, -6.7992686643), (28.3814351824, -5.1959540133), (30.756739776, 0))
            ThreePointArc((30.756739776, 0), (28.3814351824, 5.1959540133), (22.8978786586, 6.7992686643))
        make_face()
        with BuildLine():
            ThreePointArc((11.3834362946, 20.9990542539), (16.889980779, 16.889980779), (20.9990542539, 11.3834362946))
            ThreePointArc((20.9990542539, 11.3834362946), (23.0315900002, 13.8098585162), (23.7606806691, 16.889980779))
            ThreePointArc((23.7606806691, 16.889980779), (19.0547789678, 23.4107296457), (11.3834362946, 20.9990542539))
        make_face()
        with BuildLine():
            ThreePointArc((11.3834362946, 20.9990542539), (12.0316622952, 12.0316622952), (20.9990542539, 11.3834362946))
            ThreePointArc((20.9990542539, 11.3834362946), (16.889980779, 16.889980779), (11.3834362946, 20.9990542539))
        make_face()
        with BuildLine():
            ThreePointArc((-6.7992686643, 22.8978786586), (0, 23.8860398859), (6.7992686643, 22.8978786586))
            ThreePointArc((6.7992686643, 22.8978786586), (6.8528188158, 23.3906700667), (6.8706998901, 23.8860398859))
            ThreePointArc((6.8706998901, 23.8860398859), (-0.4953698192, 30.7388587017), (-6.7992686643, 22.8978786586))
        make_face()
        with BuildLine():
            ThreePointArc((-6.7992686643, 22.8978786586), (0, 17.0153399958), (6.7992686643, 22.8978786586))
            ThreePointArc((6.7992686643, 22.8978786586), (0, 23.8860398859), (-6.7992686643, 22.8978786586))
        make_face()
        with BuildLine():
            ThreePointArc((-10.0192808889, 16.889980779), (-10.3692319124, 19.0547789678), (-11.3834362946, 20.9990542539))
            ThreePointArc((-11.3834362946, 20.9990542539), (-16.889980779, 16.889980779), (-20.9990542539, 11.3834362946))
            ThreePointArc((-20.9990542539, 11.3834362946), (-13.8098585162, 10.7483715578), (-10.0192808889, 16.889980779))
        make_face()
        with BuildLine():
            ThreePointArc((-20.9990542539, 11.3834362946), (-16.889980779, 16.889980779), (-11.3834362946, 20.9990542539))
            ThreePointArc((-11.3834362946, 20.9990542539), (-21.7482992628, 21.7482992628), (-20.9990542539, 11.3834362946))
        make_face()
        with BuildLine():
            ThreePointArc((-22.8978786586, -6.7992686643), (-23.8860398859, 0), (-22.8978786586, 6.7992686643))
            ThreePointArc((-22.8978786586, 6.7992686643), (-30.756739776, 0), (-22.8978786586, -6.7992686643))
        make_face()
        with BuildLine():
            ThreePointArc((-17.0153399958, 0), (-18.6900858726, 4.4953952965), (-22.8978786586, 6.7992686643))
            ThreePointArc((-22.8978786586, 6.7992686643), (-23.8860398859, 0), (-22.8978786586, -6.7992686643))
            ThreePointArc((-22.8978786586, -6.7992686643), (-18.6900858726, -4.4953952965), (-17.0153399958, 0))
        make_face()
        with BuildLine():
            ThreePointArc((-20.9990542539, -11.3834362946), (-21.7482992628, -21.7482992628), (-11.3834362946, -20.9990542539))
            ThreePointArc((-11.3834362946, -20.9990542539), (-16.889980779, -16.889980779), (-20.9990542539, -11.3834362946))
        make_face()
        with BuildLine():
            ThreePointArc((-20.9990542539, -11.3834362946), (-16.889980779, -16.889980779), (-11.3834362946, -20.9990542539))
            ThreePointArc((-11.3834362946, -20.9990542539), (-10.3692319124, -19.0547789678), (-10.0192808889, -16.889980779))
            ThreePointArc((-10.0192808889, -16.889980779), (-13.8098585162, -10.7483715578), (-20.9990542539, -11.3834362946))
        make_face()
        with BuildLine():
            ThreePointArc((-6.7992686643, -22.8978786586), (0, -23.8860398859), (6.7992686643, -22.8978786586))
            ThreePointArc((6.7992686643, -22.8978786586), (0, -17.0153399958), (-6.7992686643, -22.8978786586))
        make_face()
        with BuildLine():
            ThreePointArc((6.8706998901, -23.8860398859), (6.8528188158, -23.3906700667), (6.7992686643, -22.8978786586))
            ThreePointArc((6.7992686643, -22.8978786586), (0, -23.8860398859), (-6.7992686643, -22.8978786586))
            ThreePointArc((-6.7992686643, -22.8978786586), (-0.4953698192, -30.7388587017), (6.8706998901, -23.8860398859))
        make_face()
        with BuildLine():
            ThreePointArc((11.3834362946, -20.9990542539), (16.889980779, -16.889980779), (20.9990542539, -11.3834362946))
            ThreePointArc((20.9990542539, -11.3834362946), (12.0316622952, -12.0316622952), (11.3834362946, -20.9990542539))
        make_face()
        with BuildLine():
            ThreePointArc((23.7606806691, -16.889980779), (23.0315900002, -13.8098585162), (20.9990542539, -11.3834362946))
            ThreePointArc((20.9990542539, -11.3834362946), (16.889980779, -16.889980779), (11.3834362946, -20.9990542539))
            ThreePointArc((11.3834362946, -20.9990542539), (19.0547789678, -23.4107296457), (23.7606806691, -16.889980779))
        make_face()
        with BuildLine():
            ThreePointArc((22.8978786586, -6.7992686643), (23.6377086915, -3.4353499451), (23.8860398859, 0))
            ThreePointArc((23.8860398859, 0), (23.6377086915, 3.4353499451), (22.8978786586, 6.7992686643))
            ThreePointArc((22.8978786586, 6.7992686643), (17.0153399958, 0), (22.8978786586, -6.7992686643))
        make_face()
    extrude(amount=-F5_DEPTH, mode=Mode.SUBTRACT)


solid = f1.part
